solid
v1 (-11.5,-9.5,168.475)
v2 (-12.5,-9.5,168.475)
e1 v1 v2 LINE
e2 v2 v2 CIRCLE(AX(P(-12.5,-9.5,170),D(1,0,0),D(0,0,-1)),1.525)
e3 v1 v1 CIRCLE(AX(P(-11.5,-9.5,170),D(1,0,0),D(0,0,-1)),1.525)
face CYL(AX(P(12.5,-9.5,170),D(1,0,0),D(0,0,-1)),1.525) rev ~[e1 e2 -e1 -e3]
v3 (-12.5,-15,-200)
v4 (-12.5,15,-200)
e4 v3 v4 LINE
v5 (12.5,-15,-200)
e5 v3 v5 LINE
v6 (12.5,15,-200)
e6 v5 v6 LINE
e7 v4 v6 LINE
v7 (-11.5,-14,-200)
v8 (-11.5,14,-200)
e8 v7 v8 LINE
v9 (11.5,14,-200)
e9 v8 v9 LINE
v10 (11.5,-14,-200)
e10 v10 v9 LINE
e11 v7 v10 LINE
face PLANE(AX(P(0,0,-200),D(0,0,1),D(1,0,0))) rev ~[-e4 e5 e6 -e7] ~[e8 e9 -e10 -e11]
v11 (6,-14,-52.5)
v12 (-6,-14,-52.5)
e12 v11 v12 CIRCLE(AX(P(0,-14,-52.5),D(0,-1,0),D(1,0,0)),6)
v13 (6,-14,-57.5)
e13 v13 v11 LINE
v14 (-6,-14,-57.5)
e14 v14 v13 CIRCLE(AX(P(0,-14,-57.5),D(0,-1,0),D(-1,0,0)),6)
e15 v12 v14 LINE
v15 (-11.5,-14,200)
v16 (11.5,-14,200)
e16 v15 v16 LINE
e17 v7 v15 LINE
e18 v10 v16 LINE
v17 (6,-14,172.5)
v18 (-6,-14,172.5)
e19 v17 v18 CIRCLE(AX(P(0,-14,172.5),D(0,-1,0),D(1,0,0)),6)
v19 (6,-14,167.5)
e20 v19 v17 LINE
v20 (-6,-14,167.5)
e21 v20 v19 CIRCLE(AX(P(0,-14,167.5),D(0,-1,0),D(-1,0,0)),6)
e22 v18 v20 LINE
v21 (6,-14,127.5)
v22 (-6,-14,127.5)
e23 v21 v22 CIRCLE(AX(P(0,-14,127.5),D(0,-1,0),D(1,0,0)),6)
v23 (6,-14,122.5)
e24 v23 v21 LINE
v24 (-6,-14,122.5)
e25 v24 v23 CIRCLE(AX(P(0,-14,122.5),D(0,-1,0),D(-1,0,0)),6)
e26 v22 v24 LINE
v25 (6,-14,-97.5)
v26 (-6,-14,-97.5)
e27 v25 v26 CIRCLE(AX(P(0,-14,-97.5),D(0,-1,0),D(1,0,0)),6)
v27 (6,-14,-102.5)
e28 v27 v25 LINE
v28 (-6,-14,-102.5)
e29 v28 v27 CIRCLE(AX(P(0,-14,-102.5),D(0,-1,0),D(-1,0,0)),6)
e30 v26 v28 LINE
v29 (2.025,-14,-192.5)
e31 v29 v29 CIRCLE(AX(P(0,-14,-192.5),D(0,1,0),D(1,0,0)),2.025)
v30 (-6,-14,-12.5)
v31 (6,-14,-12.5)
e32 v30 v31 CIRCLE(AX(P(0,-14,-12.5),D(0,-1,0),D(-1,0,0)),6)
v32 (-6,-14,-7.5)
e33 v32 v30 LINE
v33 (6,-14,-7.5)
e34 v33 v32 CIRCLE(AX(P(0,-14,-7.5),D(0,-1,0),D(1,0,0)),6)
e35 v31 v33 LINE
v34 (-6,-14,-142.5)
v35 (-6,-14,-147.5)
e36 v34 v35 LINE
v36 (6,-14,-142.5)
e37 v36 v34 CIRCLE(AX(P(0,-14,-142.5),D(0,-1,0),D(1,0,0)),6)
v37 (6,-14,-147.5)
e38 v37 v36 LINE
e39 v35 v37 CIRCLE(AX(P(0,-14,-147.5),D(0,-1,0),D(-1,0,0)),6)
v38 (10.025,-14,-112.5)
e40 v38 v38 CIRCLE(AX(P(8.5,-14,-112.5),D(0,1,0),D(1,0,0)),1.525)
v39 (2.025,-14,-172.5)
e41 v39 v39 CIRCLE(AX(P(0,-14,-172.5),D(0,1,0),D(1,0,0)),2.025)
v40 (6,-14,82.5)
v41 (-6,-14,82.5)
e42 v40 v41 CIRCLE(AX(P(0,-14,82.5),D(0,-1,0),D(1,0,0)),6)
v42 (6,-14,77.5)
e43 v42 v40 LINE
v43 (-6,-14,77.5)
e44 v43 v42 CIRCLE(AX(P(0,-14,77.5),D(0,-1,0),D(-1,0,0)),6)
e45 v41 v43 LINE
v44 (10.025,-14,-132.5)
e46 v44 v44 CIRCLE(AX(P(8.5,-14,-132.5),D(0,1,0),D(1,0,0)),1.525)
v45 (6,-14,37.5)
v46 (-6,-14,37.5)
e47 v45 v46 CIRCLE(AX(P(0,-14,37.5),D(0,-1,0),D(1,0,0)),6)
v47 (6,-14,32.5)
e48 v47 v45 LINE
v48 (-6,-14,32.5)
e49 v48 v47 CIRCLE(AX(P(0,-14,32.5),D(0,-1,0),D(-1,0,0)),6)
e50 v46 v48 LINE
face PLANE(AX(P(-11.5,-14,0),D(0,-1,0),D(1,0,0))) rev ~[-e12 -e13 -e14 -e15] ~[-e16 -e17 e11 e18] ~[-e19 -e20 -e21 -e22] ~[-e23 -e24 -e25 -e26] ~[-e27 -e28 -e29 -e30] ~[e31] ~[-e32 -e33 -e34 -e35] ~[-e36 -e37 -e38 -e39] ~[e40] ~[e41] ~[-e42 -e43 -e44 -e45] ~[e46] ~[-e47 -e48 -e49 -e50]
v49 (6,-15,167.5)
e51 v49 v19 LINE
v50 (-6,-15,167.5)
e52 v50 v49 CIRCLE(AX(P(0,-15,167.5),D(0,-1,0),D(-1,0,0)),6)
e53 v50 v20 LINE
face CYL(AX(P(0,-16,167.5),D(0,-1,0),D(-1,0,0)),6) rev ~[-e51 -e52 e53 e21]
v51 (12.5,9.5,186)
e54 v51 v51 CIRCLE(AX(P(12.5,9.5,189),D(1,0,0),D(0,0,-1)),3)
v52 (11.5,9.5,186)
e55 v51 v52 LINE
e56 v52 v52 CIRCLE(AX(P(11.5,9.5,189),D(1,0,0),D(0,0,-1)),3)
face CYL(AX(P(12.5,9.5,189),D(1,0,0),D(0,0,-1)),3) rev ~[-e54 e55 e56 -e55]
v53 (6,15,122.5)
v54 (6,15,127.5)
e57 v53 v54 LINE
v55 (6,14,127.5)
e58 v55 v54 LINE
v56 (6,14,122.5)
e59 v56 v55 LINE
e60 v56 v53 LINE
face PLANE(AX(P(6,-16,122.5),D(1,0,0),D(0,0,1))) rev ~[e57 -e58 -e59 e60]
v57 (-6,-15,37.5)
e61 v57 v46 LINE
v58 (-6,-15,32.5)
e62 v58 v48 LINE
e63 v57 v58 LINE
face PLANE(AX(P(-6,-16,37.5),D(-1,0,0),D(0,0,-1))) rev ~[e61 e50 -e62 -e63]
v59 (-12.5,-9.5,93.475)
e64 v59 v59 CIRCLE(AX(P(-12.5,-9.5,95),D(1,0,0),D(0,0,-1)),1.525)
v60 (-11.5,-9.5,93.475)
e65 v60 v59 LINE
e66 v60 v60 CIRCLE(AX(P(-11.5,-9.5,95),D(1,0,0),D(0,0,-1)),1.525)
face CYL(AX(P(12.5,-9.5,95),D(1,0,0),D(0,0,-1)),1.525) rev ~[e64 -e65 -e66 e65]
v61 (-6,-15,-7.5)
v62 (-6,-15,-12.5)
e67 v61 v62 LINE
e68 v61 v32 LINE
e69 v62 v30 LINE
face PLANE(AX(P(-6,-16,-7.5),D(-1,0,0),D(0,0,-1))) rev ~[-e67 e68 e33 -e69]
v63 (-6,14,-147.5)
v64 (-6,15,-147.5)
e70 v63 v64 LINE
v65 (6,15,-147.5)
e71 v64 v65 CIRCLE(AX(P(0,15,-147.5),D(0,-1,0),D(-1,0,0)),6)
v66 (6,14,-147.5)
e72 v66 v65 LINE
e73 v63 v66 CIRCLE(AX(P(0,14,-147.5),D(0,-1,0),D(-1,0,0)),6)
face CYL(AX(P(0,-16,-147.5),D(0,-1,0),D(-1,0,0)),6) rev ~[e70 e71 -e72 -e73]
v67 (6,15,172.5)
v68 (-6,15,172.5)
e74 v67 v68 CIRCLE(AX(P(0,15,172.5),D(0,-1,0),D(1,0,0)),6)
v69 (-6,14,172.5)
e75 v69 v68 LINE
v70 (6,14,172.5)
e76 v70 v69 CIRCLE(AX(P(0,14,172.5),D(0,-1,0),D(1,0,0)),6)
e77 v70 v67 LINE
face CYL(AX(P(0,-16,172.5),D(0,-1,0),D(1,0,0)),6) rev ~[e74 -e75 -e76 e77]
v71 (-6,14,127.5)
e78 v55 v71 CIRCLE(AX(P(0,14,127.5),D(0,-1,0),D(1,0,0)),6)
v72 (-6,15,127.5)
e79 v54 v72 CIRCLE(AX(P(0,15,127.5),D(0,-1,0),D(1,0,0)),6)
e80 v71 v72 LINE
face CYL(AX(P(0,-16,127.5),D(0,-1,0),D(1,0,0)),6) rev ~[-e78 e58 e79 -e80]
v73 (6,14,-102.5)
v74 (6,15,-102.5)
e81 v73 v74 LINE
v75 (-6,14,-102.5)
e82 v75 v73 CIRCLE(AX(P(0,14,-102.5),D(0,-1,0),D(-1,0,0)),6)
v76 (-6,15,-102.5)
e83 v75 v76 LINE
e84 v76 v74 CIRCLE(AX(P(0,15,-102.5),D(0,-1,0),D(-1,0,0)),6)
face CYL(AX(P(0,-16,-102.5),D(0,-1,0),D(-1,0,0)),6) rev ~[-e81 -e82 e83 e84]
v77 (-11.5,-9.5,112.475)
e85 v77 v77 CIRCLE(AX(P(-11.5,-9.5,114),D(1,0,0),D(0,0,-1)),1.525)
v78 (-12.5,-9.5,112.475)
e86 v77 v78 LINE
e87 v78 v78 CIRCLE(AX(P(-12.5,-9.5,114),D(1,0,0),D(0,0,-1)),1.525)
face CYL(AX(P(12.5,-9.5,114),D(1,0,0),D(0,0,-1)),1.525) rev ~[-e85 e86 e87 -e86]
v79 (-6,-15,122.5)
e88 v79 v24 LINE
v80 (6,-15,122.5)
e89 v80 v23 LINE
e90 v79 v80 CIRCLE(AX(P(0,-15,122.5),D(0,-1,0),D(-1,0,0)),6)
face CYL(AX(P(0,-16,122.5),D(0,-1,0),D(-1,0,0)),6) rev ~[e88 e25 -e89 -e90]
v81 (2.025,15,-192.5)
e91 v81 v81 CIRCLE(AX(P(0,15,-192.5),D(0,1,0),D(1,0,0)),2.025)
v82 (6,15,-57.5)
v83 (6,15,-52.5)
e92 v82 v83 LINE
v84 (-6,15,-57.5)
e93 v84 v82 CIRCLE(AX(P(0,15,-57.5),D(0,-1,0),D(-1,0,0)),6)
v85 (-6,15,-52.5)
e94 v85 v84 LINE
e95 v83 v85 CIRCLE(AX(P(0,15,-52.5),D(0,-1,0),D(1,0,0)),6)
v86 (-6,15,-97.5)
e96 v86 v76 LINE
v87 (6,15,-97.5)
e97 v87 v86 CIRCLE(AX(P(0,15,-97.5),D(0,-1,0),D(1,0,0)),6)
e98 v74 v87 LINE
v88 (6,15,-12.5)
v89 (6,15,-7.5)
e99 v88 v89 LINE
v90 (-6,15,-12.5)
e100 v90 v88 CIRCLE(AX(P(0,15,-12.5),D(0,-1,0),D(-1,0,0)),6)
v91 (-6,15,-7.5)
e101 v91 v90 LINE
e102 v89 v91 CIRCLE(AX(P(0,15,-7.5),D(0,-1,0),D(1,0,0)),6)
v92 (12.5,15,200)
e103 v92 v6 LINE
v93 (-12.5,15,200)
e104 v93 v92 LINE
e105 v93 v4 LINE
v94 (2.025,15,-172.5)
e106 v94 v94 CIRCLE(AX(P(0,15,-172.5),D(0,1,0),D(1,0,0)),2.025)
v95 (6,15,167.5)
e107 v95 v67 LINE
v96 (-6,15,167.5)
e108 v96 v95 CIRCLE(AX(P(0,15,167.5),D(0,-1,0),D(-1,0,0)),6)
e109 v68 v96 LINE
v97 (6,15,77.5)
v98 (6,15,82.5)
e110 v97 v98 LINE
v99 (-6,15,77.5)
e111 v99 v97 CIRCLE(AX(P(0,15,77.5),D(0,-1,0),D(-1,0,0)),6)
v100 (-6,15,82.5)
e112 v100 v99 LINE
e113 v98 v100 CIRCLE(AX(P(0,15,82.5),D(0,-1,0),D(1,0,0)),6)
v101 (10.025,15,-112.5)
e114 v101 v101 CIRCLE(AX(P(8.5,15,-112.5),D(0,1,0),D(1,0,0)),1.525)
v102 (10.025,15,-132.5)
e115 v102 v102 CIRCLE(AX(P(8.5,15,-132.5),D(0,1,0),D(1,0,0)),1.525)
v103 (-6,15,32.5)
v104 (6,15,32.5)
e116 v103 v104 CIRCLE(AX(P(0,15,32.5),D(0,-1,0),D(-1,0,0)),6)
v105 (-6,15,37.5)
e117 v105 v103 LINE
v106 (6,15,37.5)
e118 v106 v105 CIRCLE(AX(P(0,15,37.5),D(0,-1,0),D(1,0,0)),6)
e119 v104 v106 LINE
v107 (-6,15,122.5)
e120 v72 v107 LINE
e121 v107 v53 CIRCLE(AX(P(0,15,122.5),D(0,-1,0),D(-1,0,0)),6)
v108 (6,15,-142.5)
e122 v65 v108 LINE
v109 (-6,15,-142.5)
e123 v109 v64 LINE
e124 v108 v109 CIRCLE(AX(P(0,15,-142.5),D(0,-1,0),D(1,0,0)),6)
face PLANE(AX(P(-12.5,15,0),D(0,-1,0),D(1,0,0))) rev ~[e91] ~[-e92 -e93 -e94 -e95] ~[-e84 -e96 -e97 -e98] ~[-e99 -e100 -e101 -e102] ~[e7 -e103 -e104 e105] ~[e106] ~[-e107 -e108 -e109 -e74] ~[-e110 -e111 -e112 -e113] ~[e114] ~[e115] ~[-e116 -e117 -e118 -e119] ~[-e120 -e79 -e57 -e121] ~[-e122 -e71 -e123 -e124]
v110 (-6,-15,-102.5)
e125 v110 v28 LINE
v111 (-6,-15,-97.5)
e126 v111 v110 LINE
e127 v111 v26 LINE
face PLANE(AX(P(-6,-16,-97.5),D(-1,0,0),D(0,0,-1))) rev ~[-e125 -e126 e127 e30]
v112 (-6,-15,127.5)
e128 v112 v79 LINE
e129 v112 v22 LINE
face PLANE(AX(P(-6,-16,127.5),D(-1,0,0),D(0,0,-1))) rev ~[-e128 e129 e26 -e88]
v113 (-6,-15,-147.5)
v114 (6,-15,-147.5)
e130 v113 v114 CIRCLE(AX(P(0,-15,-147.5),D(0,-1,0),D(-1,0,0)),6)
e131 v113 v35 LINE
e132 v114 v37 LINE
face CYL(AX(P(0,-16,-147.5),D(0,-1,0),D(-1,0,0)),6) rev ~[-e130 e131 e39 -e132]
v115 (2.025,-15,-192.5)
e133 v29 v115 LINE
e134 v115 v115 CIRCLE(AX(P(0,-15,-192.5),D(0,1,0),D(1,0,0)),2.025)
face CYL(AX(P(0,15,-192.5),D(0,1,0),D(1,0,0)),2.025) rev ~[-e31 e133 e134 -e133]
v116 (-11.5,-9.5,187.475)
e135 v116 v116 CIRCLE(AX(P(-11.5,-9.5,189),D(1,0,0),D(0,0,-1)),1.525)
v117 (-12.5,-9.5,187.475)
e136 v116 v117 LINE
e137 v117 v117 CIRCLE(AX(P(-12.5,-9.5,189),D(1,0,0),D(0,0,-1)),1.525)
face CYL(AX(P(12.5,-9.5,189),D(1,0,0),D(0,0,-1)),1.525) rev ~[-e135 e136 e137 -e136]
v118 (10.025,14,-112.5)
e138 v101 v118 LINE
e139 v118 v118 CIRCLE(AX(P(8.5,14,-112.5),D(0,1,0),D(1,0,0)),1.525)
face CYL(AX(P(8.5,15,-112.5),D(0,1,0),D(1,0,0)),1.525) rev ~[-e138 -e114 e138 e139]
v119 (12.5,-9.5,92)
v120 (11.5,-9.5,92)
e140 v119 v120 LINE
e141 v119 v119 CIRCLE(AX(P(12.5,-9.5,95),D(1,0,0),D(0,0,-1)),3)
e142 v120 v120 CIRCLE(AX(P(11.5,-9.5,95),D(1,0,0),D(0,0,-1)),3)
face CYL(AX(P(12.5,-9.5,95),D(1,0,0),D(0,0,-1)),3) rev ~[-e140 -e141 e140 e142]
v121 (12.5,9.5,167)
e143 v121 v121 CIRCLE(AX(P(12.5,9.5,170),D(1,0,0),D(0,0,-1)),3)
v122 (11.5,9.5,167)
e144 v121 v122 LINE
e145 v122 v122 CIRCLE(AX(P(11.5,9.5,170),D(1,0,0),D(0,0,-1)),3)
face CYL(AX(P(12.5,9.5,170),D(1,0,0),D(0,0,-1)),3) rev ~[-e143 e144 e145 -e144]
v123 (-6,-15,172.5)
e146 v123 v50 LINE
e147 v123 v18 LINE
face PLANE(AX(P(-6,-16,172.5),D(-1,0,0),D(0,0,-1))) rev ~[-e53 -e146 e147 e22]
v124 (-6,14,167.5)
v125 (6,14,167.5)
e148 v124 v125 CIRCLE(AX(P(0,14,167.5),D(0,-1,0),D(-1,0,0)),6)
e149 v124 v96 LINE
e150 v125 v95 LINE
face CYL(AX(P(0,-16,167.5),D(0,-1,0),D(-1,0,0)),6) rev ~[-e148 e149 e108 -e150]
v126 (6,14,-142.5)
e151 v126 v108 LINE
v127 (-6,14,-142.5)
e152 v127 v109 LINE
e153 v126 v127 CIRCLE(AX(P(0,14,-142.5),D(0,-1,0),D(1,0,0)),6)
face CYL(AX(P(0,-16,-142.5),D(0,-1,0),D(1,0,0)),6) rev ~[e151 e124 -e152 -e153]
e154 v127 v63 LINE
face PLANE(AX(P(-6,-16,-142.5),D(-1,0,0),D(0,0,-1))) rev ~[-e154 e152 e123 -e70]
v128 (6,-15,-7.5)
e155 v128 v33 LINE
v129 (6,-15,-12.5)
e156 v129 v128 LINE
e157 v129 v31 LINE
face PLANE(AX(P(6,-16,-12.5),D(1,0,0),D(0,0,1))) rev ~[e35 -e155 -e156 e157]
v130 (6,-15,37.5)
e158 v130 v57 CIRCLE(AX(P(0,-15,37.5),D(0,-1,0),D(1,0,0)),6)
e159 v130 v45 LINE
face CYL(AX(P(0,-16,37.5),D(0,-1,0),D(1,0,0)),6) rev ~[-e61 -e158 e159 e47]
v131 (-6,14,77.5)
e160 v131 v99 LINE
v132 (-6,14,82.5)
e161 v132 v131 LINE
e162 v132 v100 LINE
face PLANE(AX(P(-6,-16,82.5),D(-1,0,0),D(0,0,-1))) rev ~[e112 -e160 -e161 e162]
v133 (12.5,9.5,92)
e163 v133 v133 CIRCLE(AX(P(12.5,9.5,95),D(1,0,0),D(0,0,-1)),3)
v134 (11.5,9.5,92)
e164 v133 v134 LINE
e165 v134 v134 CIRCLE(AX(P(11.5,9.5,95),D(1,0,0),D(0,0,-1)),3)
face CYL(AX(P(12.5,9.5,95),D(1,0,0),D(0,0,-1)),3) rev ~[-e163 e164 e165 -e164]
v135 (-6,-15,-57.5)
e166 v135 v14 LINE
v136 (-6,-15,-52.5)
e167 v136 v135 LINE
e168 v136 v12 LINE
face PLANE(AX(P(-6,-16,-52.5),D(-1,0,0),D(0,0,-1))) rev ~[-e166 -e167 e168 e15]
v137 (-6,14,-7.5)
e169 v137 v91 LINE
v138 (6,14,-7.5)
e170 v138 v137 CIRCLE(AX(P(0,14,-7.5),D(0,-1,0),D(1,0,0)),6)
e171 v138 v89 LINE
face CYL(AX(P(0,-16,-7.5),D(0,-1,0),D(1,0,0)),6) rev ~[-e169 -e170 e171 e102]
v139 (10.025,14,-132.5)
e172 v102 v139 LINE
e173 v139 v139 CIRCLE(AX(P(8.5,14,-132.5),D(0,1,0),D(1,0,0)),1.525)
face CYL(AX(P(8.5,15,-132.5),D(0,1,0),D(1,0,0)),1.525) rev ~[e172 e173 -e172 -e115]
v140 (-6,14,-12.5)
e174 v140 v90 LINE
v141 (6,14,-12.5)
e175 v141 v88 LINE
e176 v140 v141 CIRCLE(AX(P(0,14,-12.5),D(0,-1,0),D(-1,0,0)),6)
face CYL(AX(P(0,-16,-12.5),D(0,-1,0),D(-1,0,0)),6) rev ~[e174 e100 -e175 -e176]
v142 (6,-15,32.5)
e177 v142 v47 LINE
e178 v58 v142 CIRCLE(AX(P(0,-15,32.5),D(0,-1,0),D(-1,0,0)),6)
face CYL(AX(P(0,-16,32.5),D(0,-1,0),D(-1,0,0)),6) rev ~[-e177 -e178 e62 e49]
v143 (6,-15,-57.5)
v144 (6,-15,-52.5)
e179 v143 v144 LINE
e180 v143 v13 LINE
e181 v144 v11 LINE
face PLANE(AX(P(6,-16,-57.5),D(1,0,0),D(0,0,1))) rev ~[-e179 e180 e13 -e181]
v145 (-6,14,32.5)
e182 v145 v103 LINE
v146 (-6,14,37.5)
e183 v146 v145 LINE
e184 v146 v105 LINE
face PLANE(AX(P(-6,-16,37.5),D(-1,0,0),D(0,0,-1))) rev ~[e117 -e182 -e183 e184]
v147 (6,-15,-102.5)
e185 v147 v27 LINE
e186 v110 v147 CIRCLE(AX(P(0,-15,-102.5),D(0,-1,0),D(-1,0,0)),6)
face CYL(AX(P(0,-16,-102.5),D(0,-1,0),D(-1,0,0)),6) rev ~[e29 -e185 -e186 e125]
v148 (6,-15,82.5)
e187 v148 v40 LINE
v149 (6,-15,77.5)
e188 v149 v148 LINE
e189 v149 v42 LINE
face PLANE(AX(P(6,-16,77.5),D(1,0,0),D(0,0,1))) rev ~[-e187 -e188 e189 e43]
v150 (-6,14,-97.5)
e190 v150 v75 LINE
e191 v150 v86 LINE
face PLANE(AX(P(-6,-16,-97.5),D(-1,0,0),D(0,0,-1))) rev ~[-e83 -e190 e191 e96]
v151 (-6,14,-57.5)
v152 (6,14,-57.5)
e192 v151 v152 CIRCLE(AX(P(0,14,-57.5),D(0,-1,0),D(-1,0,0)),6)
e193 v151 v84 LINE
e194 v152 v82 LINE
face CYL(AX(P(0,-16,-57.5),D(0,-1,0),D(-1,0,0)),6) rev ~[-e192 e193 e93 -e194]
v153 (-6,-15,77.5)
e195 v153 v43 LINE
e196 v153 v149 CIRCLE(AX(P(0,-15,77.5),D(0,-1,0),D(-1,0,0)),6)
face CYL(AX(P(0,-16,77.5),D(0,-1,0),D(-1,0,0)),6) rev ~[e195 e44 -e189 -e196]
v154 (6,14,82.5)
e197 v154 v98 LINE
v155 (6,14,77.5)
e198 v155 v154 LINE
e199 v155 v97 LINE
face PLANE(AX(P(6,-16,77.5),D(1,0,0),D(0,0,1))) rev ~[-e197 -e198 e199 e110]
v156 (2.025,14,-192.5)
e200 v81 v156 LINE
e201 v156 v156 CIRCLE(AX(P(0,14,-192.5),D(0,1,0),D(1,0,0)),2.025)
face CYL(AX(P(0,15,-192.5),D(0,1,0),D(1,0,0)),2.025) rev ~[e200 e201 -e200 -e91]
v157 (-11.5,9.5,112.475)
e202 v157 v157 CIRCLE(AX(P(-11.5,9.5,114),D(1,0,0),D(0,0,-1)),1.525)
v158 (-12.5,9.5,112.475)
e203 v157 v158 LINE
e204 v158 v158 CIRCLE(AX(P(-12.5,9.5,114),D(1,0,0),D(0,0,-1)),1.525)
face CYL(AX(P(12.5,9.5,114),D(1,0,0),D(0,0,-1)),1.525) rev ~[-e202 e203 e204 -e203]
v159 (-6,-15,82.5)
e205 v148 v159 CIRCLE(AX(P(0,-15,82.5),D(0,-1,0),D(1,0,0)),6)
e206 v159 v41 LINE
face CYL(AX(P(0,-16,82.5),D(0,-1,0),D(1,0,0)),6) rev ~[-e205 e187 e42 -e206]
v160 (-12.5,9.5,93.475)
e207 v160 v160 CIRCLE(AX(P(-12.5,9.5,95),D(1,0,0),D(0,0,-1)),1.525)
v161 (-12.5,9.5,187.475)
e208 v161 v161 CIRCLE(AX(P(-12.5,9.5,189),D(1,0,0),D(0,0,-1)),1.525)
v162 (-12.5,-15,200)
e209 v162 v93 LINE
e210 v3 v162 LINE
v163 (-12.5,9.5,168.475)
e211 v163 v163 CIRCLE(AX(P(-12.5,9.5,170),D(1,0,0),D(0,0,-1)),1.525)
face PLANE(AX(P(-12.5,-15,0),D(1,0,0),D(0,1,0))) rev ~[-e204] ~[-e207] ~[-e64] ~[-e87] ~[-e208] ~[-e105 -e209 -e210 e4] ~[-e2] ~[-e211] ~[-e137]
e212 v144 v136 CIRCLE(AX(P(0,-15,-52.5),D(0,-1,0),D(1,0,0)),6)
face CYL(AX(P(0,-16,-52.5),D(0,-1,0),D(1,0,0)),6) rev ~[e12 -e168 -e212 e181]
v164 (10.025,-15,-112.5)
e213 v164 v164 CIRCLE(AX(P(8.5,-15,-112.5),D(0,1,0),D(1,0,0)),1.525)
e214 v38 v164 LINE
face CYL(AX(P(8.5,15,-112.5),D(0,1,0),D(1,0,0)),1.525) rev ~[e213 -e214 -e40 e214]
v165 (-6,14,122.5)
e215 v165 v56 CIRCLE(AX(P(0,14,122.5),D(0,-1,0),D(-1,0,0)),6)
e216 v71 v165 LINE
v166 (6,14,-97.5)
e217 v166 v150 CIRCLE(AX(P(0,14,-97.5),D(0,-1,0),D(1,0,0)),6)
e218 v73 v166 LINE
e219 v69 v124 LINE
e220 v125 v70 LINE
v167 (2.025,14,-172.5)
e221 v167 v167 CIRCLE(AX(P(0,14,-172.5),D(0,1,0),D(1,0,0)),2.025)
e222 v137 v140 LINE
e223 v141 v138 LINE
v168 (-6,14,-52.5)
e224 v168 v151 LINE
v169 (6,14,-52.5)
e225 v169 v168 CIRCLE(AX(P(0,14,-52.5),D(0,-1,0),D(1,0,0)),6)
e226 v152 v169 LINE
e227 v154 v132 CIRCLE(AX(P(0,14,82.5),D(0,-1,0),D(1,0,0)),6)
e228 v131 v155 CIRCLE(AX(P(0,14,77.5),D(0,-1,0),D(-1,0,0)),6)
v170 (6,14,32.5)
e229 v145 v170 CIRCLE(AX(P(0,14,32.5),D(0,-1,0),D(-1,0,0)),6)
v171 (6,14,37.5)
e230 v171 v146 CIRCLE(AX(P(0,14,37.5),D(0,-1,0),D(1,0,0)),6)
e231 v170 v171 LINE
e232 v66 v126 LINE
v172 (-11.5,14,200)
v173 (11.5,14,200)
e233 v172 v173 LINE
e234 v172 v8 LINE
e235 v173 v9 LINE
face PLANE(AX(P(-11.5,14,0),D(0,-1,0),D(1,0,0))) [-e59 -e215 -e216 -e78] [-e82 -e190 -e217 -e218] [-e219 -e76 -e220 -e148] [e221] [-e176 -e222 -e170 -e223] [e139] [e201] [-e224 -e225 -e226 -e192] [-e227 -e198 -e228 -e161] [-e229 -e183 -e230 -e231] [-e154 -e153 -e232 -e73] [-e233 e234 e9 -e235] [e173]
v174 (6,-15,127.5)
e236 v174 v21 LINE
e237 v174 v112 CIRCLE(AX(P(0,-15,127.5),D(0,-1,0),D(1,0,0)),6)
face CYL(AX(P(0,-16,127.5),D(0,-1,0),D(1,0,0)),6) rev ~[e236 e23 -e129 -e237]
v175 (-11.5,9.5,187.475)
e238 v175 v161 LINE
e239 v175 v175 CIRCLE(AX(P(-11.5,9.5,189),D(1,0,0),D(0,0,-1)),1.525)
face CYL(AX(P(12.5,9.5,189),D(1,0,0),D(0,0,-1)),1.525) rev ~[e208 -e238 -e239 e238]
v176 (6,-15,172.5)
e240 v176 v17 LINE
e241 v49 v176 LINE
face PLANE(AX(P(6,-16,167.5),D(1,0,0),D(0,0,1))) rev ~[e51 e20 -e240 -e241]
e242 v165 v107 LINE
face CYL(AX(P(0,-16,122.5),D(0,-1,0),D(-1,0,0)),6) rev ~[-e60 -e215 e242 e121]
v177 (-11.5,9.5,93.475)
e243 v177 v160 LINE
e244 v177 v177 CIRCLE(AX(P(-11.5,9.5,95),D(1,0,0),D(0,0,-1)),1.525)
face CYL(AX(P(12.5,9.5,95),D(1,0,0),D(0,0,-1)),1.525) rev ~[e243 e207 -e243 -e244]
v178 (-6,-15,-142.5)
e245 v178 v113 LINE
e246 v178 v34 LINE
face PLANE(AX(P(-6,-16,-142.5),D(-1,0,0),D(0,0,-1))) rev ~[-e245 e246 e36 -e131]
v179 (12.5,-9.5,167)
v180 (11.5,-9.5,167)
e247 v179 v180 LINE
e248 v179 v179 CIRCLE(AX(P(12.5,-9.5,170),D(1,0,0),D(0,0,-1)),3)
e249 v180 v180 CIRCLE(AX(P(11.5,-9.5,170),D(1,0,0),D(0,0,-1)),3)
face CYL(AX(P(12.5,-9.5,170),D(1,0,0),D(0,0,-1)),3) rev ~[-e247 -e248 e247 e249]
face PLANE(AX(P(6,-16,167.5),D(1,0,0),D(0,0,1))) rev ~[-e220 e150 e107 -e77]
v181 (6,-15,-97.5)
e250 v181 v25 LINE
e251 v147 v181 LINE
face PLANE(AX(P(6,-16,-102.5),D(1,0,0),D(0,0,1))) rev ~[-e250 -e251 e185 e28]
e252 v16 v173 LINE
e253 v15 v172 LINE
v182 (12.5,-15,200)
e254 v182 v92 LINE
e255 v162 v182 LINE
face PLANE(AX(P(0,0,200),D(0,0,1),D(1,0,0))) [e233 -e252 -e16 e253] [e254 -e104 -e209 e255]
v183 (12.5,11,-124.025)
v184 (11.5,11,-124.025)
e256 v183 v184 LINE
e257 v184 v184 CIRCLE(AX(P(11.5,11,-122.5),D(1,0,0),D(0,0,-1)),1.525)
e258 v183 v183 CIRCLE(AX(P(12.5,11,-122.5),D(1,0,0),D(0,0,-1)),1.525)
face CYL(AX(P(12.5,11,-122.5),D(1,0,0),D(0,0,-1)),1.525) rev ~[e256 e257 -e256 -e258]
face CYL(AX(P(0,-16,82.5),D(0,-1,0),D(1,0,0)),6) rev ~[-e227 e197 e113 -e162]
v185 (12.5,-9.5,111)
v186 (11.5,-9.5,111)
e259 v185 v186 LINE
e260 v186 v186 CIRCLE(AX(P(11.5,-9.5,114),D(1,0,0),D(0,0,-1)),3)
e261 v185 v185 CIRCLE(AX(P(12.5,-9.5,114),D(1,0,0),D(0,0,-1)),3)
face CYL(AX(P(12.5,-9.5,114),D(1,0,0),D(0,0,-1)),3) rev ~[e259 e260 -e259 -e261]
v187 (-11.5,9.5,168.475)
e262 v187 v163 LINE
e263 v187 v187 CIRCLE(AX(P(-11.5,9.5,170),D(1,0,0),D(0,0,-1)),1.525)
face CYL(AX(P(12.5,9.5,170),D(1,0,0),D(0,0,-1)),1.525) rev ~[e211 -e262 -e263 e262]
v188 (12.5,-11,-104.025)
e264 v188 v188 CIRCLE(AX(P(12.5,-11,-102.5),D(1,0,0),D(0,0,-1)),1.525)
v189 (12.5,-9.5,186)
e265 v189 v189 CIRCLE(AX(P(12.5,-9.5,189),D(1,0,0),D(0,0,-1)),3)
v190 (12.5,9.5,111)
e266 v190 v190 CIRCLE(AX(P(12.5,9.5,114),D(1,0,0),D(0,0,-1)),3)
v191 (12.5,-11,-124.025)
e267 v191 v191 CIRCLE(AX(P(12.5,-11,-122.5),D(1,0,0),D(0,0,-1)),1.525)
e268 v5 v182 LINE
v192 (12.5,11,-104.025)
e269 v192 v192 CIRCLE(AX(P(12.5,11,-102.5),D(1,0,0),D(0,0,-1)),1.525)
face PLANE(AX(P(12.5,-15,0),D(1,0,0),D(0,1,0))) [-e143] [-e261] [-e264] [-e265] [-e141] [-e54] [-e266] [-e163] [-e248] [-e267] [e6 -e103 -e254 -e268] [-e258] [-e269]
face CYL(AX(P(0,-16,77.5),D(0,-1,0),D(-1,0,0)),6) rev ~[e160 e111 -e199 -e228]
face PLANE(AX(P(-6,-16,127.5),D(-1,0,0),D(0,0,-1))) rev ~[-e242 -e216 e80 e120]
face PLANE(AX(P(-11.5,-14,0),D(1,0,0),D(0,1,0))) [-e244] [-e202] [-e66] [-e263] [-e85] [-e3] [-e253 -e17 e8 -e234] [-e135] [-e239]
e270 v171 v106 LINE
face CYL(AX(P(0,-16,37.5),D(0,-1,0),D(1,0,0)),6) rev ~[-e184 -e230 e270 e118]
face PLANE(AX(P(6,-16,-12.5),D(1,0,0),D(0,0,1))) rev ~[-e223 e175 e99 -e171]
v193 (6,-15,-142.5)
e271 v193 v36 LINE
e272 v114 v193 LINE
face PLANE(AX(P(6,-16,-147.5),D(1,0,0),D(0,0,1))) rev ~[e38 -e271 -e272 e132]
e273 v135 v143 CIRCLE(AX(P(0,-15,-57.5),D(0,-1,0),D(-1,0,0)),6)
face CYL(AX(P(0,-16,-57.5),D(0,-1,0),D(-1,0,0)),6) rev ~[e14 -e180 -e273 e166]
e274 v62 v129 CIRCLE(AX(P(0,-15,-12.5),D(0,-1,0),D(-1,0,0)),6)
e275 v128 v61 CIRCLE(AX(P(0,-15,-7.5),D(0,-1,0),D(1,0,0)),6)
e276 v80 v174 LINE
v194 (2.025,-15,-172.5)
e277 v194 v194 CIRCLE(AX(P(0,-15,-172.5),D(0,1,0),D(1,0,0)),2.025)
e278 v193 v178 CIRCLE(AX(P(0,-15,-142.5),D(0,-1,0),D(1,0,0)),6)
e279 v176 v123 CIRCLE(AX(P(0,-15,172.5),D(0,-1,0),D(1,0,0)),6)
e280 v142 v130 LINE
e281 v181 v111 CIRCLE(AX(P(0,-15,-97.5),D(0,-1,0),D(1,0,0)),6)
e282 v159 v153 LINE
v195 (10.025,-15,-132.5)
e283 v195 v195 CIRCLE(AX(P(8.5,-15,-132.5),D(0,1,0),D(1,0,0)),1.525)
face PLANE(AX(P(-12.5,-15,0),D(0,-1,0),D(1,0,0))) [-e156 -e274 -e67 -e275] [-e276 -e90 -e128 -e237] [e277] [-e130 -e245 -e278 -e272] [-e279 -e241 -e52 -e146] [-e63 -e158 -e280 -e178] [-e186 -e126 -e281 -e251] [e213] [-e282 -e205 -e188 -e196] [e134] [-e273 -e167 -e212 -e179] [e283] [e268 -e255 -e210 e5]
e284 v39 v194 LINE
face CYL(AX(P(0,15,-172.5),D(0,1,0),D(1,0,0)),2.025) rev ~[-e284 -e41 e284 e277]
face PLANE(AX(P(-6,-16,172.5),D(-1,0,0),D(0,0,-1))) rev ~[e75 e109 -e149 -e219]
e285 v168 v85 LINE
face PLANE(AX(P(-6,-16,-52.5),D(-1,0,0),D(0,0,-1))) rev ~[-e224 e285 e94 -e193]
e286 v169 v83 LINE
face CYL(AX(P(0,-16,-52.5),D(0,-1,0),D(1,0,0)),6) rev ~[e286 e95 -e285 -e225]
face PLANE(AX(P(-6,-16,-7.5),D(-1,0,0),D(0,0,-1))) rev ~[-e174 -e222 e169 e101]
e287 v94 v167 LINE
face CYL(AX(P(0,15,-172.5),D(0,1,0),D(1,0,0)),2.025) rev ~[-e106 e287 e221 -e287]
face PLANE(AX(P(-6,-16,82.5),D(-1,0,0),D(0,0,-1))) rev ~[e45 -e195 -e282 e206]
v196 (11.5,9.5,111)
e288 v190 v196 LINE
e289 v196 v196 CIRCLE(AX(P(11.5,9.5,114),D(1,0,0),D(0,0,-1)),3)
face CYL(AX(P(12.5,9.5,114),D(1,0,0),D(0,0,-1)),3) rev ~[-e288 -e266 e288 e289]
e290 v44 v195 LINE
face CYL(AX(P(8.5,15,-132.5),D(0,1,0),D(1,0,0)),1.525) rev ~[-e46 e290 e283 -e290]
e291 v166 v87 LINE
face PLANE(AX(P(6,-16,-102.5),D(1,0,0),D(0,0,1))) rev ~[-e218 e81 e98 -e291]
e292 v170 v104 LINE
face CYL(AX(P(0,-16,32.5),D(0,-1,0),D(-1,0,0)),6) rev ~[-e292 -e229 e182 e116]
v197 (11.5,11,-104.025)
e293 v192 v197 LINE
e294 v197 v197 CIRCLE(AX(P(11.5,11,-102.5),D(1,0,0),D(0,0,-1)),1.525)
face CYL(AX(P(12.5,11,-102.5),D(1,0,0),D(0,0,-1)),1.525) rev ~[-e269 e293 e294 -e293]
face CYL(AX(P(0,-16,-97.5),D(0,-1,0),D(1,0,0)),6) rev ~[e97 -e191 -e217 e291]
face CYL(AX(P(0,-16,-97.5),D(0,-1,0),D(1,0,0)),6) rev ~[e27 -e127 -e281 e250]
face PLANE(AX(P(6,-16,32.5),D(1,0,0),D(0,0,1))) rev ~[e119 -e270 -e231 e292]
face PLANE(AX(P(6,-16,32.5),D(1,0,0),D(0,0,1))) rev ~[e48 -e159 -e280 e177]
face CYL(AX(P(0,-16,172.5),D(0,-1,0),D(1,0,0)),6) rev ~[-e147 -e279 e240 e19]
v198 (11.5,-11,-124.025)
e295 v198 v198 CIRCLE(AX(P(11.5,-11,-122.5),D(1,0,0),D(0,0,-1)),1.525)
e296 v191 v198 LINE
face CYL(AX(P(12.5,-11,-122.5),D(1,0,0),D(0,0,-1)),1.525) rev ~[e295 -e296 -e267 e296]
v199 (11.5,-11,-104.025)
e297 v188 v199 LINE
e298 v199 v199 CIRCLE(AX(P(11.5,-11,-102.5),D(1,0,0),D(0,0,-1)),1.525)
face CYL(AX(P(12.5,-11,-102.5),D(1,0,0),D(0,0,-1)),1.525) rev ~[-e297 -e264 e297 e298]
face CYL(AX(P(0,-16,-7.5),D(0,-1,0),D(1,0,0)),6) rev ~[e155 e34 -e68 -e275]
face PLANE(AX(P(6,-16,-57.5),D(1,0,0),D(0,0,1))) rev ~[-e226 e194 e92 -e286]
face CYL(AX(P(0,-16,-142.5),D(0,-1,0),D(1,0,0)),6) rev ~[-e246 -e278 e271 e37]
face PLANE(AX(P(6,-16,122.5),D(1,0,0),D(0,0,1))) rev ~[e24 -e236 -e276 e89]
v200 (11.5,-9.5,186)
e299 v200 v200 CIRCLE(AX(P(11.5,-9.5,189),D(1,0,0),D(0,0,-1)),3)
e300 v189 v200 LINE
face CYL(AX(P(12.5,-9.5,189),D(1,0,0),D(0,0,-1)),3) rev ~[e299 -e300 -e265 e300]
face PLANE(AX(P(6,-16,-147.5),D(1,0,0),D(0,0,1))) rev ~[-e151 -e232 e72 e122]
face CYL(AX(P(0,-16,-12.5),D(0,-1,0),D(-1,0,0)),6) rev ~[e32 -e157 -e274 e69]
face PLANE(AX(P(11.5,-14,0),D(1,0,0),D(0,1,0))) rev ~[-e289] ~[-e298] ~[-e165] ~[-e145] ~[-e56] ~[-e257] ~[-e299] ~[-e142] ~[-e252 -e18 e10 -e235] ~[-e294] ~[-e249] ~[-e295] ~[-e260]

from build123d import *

# Parameters (mm, degrees)
SKETCH_1_W               = 25
SKETCH_1_H               = 30
EXTRUDE_1_DEPTH          = 200
SKETCH_2_OUTSIDE_W       = 107.38
SKETCH_2_OUTSIDE_H       = 112.38
SKETCH_2_OUTSIDE_W_2     = 25
SKETCH_2_OUTSIDE_H_2     = 30
SKETCH_2_OUTSIDE_W_3     = 23
SKETCH_2_OUTSIDE_H_3     = 28
CUT_EXTRUDE_1_DEPTH      = 200
SKETCH_3_R               = 2.025
CUT_EXTRUDE_2_DEPTH      = 31
SKETCH_4_R               = 1.525
CUT_EXTRUDE_3_DEPTH      = 1
CUT_EXTRUDE_3_DEPTH_BACK = 26
SKETCH_5_R               = 1.525
CUT_EXTRUDE_4_DEPTH      = 1
CUT_EXTRUDE_4_DEPTH_BACK = 26
SKETCH_6_R               = 3
CUT_EXTRUDE_5_DEPTH      = 5
SKETCH_7_R               = 3
CUT_EXTRUDE_6_DEPTH      = 5
CUT_EXTRUDE_START        = -31
CUT_EXTRUDE_7_DEPTH      = 32
PATTERN_LINEAR_1_COUNT   = 8
PATTERN_LINEAR_1_PITCH   = 45
SKETCH_10_R              = 1.525
CUT_EXTRUDE_9_DEPTH      = 31
SKETCH_11_R              = 1.525
CUT_EXTRUDE_10_DEPTH     = 3


with BuildPart() as part:
    # 草图1 → 凸台-拉伸1 (new body, symmetric)
    with BuildSketch(Plane.XY):
        Rectangle(SKETCH_1_W, SKETCH_1_H)
    extrude(amount=EXTRUDE_1_DEPTH, both=True)

    # 草图2 outside → 切除-拉伸1 (cut, symmetric)
    with BuildSketch(Plane.XY):
        Rectangle(SKETCH_2_OUTSIDE_W, SKETCH_2_OUTSIDE_H)
        Rectangle(SKETCH_2_OUTSIDE_W_2, SKETCH_2_OUTSIDE_H_2, mode=Mode.SUBTRACT)
        Rectangle(SKETCH_2_OUTSIDE_W_3, SKETCH_2_OUTSIDE_H_3)
    extrude(amount=CUT_EXTRUDE_1_DEPTH, both=True, mode=Mode.SUBTRACT)

    # 草图3 → 切除-拉伸2 (cut, through all)
    with BuildSketch(Plane(origin=(0, 15, 0), x_dir=(1, 0, 0), z_dir=(0, 1, 0))):
        with Locations((0, 172.5)):
            Circle(SKETCH_3_R)
        with Locations((0, 192.5)):
            Circle(SKETCH_3_R)
    extrude(amount=-CUT_EXTRUDE_2_DEPTH, mode=Mode.SUBTRACT)

    # 草图4 → 切除-拉伸3 (cut, two sides)
    with BuildSketch(Plane(origin=(12.5, 0, 0), x_dir=(0, 0, -1), z_dir=(1, 0, 0))) as cut_extrude_3_sk:
        with Locations((-170, -9.5)):
            Circle(SKETCH_4_R)
        with Locations((-189, -9.5)):
            Circle(SKETCH_4_R)
        with Locations((-189, 9.5)):
            Circle(SKETCH_4_R)
        with Locations((-170, 9.5)):
            Circle(SKETCH_4_R)
    extrude(amount=CUT_EXTRUDE_3_DEPTH, mode=Mode.SUBTRACT)
    extrude(cut_extrude_3_sk.sketch, amount=-CUT_EXTRUDE_3_DEPTH_BACK, mode=Mode.SUBTRACT)

    # 草图5 → 切除-拉伸4 (cut, two sides)
    with BuildSketch(Plane(origin=(12.5, 0, 0), x_dir=(0, 0, -1), z_dir=(1, 0, 0))) as cut_extrude_4_sk:
        with Locations((-95, 9.5)):
            Circle(SKETCH_5_R)
        with Locations((-114, 9.5)):
            Circle(SKETCH_5_R)
        with Locations((-114, -9.5)):
            Circle(SKETCH_5_R)
        with Locations((-95, -9.5)):
            Circle(SKETCH_5_R)
    extrude(amount=CUT_EXTRUDE_4_DEPTH, mode=Mode.SUBTRACT)
    extrude(cut_extrude_4_sk.sketch, amount=-CUT_EXTRUDE_4_DEPTH_BACK, mode=Mode.SUBTRACT)

    # 草图6 → 切除-拉伸5 (cut)
    with BuildSketch(Plane(origin=(12.5, 0, 0), x_dir=(0, 0, -1), z_dir=(1, 0, 0))):
        with Locations((-170, 9.5)):
            Circle(SKETCH_6_R)
        with Locations((-170, -9.5)):
            Circle(SKETCH_6_R)
        with Locations((-189, -9.5)):
            Circle(SKETCH_6_R)
        with Locations((-189, 9.5)):
            Circle(SKETCH_6_R)
    extrude(amount=-CUT_EXTRUDE_5_DEPTH, mode=Mode.SUBTRACT)

    # 草图7 → 切除-拉伸6 (cut)
    with BuildSketch(Plane(origin=(12.5, 0, 0), x_dir=(0, 0, -1), z_dir=(1, 0, 0))):
        with Locations((-114, 9.5)):
            Circle(SKETCH_7_R)
        with Locations((-95, 9.5)):
            Circle(SKETCH_7_R)
        with Locations((-95, -9.5)):
            Circle(SKETCH_7_R)
        with Locations((-114, -9.5)):
            Circle(SKETCH_7_R)
    extrude(amount=-CUT_EXTRUDE_6_DEPTH, mode=Mode.SUBTRACT)

    # 草图8 → 切除-拉伸7 (cut)
    with BuildSketch(Plane(origin=(0, 15, 0), x_dir=(1, 0, 0), z_dir=(0, 1, 0)).offset(CUT_EXTRUDE_START)):
        with BuildLine():
            Line((-6, -172.5), (-6, -167.5))
            ThreePointArc((-6, -167.5), (0, -161.5), (6, -167.5))
            Line((6, -167.5), (6, -172.5))
            ThreePointArc((6, -172.5), (0, -178.5), (-6, -172.5))
        make_face()
    cut_extrude_7 = extrude(amount=CUT_EXTRUDE_7_DEPTH, mode=Mode.SUBTRACT)

    # 阵列(线性)1: 切除-拉伸7 ×8
    with Locations(*[(0, 0, -i * PATTERN_LINEAR_1_PITCH) for i in range(1, PATTERN_LINEAR_1_COUNT)]):
        add(cut_extrude_7, mode=Mode.SUBTRACT)

    # 草图10 → 切除-拉伸9 (cut, through all)
    with BuildSketch(Plane(origin=(0, 15, 0), x_dir=(1, 0, 0), z_dir=(0, 1, 0))):
        with Locations((8.5, 112.5)):
            Circle(SKETCH_10_R)
        with Locations((8.5, 132.5)):
            Circle(SKETCH_10_R)
    extrude(amount=-CUT_EXTRUDE_9_DEPTH, mode=Mode.SUBTRACT)

    # 草图11 → 切除-拉伸10 (cut)
    with BuildSketch(Plane(origin=(12.5, 0, 0), x_dir=(0, 0, -1), z_dir=(1, 0, 0))):
        with Locations((122.5, 10.999999999)):
            Circle(SKETCH_11_R)
        with Locations((102.5, 10.999999999)):
            Circle(SKETCH_11_R)
        with Locations((102.5, -11)):
            Circle(SKETCH_11_R)
        with Locations((122.5, -11)):
            Circle(SKETCH_11_R)
    extrude(amount=-CUT_EXTRUDE_10_DEPTH, mode=Mode.SUBTRACT)


solid = part.part
